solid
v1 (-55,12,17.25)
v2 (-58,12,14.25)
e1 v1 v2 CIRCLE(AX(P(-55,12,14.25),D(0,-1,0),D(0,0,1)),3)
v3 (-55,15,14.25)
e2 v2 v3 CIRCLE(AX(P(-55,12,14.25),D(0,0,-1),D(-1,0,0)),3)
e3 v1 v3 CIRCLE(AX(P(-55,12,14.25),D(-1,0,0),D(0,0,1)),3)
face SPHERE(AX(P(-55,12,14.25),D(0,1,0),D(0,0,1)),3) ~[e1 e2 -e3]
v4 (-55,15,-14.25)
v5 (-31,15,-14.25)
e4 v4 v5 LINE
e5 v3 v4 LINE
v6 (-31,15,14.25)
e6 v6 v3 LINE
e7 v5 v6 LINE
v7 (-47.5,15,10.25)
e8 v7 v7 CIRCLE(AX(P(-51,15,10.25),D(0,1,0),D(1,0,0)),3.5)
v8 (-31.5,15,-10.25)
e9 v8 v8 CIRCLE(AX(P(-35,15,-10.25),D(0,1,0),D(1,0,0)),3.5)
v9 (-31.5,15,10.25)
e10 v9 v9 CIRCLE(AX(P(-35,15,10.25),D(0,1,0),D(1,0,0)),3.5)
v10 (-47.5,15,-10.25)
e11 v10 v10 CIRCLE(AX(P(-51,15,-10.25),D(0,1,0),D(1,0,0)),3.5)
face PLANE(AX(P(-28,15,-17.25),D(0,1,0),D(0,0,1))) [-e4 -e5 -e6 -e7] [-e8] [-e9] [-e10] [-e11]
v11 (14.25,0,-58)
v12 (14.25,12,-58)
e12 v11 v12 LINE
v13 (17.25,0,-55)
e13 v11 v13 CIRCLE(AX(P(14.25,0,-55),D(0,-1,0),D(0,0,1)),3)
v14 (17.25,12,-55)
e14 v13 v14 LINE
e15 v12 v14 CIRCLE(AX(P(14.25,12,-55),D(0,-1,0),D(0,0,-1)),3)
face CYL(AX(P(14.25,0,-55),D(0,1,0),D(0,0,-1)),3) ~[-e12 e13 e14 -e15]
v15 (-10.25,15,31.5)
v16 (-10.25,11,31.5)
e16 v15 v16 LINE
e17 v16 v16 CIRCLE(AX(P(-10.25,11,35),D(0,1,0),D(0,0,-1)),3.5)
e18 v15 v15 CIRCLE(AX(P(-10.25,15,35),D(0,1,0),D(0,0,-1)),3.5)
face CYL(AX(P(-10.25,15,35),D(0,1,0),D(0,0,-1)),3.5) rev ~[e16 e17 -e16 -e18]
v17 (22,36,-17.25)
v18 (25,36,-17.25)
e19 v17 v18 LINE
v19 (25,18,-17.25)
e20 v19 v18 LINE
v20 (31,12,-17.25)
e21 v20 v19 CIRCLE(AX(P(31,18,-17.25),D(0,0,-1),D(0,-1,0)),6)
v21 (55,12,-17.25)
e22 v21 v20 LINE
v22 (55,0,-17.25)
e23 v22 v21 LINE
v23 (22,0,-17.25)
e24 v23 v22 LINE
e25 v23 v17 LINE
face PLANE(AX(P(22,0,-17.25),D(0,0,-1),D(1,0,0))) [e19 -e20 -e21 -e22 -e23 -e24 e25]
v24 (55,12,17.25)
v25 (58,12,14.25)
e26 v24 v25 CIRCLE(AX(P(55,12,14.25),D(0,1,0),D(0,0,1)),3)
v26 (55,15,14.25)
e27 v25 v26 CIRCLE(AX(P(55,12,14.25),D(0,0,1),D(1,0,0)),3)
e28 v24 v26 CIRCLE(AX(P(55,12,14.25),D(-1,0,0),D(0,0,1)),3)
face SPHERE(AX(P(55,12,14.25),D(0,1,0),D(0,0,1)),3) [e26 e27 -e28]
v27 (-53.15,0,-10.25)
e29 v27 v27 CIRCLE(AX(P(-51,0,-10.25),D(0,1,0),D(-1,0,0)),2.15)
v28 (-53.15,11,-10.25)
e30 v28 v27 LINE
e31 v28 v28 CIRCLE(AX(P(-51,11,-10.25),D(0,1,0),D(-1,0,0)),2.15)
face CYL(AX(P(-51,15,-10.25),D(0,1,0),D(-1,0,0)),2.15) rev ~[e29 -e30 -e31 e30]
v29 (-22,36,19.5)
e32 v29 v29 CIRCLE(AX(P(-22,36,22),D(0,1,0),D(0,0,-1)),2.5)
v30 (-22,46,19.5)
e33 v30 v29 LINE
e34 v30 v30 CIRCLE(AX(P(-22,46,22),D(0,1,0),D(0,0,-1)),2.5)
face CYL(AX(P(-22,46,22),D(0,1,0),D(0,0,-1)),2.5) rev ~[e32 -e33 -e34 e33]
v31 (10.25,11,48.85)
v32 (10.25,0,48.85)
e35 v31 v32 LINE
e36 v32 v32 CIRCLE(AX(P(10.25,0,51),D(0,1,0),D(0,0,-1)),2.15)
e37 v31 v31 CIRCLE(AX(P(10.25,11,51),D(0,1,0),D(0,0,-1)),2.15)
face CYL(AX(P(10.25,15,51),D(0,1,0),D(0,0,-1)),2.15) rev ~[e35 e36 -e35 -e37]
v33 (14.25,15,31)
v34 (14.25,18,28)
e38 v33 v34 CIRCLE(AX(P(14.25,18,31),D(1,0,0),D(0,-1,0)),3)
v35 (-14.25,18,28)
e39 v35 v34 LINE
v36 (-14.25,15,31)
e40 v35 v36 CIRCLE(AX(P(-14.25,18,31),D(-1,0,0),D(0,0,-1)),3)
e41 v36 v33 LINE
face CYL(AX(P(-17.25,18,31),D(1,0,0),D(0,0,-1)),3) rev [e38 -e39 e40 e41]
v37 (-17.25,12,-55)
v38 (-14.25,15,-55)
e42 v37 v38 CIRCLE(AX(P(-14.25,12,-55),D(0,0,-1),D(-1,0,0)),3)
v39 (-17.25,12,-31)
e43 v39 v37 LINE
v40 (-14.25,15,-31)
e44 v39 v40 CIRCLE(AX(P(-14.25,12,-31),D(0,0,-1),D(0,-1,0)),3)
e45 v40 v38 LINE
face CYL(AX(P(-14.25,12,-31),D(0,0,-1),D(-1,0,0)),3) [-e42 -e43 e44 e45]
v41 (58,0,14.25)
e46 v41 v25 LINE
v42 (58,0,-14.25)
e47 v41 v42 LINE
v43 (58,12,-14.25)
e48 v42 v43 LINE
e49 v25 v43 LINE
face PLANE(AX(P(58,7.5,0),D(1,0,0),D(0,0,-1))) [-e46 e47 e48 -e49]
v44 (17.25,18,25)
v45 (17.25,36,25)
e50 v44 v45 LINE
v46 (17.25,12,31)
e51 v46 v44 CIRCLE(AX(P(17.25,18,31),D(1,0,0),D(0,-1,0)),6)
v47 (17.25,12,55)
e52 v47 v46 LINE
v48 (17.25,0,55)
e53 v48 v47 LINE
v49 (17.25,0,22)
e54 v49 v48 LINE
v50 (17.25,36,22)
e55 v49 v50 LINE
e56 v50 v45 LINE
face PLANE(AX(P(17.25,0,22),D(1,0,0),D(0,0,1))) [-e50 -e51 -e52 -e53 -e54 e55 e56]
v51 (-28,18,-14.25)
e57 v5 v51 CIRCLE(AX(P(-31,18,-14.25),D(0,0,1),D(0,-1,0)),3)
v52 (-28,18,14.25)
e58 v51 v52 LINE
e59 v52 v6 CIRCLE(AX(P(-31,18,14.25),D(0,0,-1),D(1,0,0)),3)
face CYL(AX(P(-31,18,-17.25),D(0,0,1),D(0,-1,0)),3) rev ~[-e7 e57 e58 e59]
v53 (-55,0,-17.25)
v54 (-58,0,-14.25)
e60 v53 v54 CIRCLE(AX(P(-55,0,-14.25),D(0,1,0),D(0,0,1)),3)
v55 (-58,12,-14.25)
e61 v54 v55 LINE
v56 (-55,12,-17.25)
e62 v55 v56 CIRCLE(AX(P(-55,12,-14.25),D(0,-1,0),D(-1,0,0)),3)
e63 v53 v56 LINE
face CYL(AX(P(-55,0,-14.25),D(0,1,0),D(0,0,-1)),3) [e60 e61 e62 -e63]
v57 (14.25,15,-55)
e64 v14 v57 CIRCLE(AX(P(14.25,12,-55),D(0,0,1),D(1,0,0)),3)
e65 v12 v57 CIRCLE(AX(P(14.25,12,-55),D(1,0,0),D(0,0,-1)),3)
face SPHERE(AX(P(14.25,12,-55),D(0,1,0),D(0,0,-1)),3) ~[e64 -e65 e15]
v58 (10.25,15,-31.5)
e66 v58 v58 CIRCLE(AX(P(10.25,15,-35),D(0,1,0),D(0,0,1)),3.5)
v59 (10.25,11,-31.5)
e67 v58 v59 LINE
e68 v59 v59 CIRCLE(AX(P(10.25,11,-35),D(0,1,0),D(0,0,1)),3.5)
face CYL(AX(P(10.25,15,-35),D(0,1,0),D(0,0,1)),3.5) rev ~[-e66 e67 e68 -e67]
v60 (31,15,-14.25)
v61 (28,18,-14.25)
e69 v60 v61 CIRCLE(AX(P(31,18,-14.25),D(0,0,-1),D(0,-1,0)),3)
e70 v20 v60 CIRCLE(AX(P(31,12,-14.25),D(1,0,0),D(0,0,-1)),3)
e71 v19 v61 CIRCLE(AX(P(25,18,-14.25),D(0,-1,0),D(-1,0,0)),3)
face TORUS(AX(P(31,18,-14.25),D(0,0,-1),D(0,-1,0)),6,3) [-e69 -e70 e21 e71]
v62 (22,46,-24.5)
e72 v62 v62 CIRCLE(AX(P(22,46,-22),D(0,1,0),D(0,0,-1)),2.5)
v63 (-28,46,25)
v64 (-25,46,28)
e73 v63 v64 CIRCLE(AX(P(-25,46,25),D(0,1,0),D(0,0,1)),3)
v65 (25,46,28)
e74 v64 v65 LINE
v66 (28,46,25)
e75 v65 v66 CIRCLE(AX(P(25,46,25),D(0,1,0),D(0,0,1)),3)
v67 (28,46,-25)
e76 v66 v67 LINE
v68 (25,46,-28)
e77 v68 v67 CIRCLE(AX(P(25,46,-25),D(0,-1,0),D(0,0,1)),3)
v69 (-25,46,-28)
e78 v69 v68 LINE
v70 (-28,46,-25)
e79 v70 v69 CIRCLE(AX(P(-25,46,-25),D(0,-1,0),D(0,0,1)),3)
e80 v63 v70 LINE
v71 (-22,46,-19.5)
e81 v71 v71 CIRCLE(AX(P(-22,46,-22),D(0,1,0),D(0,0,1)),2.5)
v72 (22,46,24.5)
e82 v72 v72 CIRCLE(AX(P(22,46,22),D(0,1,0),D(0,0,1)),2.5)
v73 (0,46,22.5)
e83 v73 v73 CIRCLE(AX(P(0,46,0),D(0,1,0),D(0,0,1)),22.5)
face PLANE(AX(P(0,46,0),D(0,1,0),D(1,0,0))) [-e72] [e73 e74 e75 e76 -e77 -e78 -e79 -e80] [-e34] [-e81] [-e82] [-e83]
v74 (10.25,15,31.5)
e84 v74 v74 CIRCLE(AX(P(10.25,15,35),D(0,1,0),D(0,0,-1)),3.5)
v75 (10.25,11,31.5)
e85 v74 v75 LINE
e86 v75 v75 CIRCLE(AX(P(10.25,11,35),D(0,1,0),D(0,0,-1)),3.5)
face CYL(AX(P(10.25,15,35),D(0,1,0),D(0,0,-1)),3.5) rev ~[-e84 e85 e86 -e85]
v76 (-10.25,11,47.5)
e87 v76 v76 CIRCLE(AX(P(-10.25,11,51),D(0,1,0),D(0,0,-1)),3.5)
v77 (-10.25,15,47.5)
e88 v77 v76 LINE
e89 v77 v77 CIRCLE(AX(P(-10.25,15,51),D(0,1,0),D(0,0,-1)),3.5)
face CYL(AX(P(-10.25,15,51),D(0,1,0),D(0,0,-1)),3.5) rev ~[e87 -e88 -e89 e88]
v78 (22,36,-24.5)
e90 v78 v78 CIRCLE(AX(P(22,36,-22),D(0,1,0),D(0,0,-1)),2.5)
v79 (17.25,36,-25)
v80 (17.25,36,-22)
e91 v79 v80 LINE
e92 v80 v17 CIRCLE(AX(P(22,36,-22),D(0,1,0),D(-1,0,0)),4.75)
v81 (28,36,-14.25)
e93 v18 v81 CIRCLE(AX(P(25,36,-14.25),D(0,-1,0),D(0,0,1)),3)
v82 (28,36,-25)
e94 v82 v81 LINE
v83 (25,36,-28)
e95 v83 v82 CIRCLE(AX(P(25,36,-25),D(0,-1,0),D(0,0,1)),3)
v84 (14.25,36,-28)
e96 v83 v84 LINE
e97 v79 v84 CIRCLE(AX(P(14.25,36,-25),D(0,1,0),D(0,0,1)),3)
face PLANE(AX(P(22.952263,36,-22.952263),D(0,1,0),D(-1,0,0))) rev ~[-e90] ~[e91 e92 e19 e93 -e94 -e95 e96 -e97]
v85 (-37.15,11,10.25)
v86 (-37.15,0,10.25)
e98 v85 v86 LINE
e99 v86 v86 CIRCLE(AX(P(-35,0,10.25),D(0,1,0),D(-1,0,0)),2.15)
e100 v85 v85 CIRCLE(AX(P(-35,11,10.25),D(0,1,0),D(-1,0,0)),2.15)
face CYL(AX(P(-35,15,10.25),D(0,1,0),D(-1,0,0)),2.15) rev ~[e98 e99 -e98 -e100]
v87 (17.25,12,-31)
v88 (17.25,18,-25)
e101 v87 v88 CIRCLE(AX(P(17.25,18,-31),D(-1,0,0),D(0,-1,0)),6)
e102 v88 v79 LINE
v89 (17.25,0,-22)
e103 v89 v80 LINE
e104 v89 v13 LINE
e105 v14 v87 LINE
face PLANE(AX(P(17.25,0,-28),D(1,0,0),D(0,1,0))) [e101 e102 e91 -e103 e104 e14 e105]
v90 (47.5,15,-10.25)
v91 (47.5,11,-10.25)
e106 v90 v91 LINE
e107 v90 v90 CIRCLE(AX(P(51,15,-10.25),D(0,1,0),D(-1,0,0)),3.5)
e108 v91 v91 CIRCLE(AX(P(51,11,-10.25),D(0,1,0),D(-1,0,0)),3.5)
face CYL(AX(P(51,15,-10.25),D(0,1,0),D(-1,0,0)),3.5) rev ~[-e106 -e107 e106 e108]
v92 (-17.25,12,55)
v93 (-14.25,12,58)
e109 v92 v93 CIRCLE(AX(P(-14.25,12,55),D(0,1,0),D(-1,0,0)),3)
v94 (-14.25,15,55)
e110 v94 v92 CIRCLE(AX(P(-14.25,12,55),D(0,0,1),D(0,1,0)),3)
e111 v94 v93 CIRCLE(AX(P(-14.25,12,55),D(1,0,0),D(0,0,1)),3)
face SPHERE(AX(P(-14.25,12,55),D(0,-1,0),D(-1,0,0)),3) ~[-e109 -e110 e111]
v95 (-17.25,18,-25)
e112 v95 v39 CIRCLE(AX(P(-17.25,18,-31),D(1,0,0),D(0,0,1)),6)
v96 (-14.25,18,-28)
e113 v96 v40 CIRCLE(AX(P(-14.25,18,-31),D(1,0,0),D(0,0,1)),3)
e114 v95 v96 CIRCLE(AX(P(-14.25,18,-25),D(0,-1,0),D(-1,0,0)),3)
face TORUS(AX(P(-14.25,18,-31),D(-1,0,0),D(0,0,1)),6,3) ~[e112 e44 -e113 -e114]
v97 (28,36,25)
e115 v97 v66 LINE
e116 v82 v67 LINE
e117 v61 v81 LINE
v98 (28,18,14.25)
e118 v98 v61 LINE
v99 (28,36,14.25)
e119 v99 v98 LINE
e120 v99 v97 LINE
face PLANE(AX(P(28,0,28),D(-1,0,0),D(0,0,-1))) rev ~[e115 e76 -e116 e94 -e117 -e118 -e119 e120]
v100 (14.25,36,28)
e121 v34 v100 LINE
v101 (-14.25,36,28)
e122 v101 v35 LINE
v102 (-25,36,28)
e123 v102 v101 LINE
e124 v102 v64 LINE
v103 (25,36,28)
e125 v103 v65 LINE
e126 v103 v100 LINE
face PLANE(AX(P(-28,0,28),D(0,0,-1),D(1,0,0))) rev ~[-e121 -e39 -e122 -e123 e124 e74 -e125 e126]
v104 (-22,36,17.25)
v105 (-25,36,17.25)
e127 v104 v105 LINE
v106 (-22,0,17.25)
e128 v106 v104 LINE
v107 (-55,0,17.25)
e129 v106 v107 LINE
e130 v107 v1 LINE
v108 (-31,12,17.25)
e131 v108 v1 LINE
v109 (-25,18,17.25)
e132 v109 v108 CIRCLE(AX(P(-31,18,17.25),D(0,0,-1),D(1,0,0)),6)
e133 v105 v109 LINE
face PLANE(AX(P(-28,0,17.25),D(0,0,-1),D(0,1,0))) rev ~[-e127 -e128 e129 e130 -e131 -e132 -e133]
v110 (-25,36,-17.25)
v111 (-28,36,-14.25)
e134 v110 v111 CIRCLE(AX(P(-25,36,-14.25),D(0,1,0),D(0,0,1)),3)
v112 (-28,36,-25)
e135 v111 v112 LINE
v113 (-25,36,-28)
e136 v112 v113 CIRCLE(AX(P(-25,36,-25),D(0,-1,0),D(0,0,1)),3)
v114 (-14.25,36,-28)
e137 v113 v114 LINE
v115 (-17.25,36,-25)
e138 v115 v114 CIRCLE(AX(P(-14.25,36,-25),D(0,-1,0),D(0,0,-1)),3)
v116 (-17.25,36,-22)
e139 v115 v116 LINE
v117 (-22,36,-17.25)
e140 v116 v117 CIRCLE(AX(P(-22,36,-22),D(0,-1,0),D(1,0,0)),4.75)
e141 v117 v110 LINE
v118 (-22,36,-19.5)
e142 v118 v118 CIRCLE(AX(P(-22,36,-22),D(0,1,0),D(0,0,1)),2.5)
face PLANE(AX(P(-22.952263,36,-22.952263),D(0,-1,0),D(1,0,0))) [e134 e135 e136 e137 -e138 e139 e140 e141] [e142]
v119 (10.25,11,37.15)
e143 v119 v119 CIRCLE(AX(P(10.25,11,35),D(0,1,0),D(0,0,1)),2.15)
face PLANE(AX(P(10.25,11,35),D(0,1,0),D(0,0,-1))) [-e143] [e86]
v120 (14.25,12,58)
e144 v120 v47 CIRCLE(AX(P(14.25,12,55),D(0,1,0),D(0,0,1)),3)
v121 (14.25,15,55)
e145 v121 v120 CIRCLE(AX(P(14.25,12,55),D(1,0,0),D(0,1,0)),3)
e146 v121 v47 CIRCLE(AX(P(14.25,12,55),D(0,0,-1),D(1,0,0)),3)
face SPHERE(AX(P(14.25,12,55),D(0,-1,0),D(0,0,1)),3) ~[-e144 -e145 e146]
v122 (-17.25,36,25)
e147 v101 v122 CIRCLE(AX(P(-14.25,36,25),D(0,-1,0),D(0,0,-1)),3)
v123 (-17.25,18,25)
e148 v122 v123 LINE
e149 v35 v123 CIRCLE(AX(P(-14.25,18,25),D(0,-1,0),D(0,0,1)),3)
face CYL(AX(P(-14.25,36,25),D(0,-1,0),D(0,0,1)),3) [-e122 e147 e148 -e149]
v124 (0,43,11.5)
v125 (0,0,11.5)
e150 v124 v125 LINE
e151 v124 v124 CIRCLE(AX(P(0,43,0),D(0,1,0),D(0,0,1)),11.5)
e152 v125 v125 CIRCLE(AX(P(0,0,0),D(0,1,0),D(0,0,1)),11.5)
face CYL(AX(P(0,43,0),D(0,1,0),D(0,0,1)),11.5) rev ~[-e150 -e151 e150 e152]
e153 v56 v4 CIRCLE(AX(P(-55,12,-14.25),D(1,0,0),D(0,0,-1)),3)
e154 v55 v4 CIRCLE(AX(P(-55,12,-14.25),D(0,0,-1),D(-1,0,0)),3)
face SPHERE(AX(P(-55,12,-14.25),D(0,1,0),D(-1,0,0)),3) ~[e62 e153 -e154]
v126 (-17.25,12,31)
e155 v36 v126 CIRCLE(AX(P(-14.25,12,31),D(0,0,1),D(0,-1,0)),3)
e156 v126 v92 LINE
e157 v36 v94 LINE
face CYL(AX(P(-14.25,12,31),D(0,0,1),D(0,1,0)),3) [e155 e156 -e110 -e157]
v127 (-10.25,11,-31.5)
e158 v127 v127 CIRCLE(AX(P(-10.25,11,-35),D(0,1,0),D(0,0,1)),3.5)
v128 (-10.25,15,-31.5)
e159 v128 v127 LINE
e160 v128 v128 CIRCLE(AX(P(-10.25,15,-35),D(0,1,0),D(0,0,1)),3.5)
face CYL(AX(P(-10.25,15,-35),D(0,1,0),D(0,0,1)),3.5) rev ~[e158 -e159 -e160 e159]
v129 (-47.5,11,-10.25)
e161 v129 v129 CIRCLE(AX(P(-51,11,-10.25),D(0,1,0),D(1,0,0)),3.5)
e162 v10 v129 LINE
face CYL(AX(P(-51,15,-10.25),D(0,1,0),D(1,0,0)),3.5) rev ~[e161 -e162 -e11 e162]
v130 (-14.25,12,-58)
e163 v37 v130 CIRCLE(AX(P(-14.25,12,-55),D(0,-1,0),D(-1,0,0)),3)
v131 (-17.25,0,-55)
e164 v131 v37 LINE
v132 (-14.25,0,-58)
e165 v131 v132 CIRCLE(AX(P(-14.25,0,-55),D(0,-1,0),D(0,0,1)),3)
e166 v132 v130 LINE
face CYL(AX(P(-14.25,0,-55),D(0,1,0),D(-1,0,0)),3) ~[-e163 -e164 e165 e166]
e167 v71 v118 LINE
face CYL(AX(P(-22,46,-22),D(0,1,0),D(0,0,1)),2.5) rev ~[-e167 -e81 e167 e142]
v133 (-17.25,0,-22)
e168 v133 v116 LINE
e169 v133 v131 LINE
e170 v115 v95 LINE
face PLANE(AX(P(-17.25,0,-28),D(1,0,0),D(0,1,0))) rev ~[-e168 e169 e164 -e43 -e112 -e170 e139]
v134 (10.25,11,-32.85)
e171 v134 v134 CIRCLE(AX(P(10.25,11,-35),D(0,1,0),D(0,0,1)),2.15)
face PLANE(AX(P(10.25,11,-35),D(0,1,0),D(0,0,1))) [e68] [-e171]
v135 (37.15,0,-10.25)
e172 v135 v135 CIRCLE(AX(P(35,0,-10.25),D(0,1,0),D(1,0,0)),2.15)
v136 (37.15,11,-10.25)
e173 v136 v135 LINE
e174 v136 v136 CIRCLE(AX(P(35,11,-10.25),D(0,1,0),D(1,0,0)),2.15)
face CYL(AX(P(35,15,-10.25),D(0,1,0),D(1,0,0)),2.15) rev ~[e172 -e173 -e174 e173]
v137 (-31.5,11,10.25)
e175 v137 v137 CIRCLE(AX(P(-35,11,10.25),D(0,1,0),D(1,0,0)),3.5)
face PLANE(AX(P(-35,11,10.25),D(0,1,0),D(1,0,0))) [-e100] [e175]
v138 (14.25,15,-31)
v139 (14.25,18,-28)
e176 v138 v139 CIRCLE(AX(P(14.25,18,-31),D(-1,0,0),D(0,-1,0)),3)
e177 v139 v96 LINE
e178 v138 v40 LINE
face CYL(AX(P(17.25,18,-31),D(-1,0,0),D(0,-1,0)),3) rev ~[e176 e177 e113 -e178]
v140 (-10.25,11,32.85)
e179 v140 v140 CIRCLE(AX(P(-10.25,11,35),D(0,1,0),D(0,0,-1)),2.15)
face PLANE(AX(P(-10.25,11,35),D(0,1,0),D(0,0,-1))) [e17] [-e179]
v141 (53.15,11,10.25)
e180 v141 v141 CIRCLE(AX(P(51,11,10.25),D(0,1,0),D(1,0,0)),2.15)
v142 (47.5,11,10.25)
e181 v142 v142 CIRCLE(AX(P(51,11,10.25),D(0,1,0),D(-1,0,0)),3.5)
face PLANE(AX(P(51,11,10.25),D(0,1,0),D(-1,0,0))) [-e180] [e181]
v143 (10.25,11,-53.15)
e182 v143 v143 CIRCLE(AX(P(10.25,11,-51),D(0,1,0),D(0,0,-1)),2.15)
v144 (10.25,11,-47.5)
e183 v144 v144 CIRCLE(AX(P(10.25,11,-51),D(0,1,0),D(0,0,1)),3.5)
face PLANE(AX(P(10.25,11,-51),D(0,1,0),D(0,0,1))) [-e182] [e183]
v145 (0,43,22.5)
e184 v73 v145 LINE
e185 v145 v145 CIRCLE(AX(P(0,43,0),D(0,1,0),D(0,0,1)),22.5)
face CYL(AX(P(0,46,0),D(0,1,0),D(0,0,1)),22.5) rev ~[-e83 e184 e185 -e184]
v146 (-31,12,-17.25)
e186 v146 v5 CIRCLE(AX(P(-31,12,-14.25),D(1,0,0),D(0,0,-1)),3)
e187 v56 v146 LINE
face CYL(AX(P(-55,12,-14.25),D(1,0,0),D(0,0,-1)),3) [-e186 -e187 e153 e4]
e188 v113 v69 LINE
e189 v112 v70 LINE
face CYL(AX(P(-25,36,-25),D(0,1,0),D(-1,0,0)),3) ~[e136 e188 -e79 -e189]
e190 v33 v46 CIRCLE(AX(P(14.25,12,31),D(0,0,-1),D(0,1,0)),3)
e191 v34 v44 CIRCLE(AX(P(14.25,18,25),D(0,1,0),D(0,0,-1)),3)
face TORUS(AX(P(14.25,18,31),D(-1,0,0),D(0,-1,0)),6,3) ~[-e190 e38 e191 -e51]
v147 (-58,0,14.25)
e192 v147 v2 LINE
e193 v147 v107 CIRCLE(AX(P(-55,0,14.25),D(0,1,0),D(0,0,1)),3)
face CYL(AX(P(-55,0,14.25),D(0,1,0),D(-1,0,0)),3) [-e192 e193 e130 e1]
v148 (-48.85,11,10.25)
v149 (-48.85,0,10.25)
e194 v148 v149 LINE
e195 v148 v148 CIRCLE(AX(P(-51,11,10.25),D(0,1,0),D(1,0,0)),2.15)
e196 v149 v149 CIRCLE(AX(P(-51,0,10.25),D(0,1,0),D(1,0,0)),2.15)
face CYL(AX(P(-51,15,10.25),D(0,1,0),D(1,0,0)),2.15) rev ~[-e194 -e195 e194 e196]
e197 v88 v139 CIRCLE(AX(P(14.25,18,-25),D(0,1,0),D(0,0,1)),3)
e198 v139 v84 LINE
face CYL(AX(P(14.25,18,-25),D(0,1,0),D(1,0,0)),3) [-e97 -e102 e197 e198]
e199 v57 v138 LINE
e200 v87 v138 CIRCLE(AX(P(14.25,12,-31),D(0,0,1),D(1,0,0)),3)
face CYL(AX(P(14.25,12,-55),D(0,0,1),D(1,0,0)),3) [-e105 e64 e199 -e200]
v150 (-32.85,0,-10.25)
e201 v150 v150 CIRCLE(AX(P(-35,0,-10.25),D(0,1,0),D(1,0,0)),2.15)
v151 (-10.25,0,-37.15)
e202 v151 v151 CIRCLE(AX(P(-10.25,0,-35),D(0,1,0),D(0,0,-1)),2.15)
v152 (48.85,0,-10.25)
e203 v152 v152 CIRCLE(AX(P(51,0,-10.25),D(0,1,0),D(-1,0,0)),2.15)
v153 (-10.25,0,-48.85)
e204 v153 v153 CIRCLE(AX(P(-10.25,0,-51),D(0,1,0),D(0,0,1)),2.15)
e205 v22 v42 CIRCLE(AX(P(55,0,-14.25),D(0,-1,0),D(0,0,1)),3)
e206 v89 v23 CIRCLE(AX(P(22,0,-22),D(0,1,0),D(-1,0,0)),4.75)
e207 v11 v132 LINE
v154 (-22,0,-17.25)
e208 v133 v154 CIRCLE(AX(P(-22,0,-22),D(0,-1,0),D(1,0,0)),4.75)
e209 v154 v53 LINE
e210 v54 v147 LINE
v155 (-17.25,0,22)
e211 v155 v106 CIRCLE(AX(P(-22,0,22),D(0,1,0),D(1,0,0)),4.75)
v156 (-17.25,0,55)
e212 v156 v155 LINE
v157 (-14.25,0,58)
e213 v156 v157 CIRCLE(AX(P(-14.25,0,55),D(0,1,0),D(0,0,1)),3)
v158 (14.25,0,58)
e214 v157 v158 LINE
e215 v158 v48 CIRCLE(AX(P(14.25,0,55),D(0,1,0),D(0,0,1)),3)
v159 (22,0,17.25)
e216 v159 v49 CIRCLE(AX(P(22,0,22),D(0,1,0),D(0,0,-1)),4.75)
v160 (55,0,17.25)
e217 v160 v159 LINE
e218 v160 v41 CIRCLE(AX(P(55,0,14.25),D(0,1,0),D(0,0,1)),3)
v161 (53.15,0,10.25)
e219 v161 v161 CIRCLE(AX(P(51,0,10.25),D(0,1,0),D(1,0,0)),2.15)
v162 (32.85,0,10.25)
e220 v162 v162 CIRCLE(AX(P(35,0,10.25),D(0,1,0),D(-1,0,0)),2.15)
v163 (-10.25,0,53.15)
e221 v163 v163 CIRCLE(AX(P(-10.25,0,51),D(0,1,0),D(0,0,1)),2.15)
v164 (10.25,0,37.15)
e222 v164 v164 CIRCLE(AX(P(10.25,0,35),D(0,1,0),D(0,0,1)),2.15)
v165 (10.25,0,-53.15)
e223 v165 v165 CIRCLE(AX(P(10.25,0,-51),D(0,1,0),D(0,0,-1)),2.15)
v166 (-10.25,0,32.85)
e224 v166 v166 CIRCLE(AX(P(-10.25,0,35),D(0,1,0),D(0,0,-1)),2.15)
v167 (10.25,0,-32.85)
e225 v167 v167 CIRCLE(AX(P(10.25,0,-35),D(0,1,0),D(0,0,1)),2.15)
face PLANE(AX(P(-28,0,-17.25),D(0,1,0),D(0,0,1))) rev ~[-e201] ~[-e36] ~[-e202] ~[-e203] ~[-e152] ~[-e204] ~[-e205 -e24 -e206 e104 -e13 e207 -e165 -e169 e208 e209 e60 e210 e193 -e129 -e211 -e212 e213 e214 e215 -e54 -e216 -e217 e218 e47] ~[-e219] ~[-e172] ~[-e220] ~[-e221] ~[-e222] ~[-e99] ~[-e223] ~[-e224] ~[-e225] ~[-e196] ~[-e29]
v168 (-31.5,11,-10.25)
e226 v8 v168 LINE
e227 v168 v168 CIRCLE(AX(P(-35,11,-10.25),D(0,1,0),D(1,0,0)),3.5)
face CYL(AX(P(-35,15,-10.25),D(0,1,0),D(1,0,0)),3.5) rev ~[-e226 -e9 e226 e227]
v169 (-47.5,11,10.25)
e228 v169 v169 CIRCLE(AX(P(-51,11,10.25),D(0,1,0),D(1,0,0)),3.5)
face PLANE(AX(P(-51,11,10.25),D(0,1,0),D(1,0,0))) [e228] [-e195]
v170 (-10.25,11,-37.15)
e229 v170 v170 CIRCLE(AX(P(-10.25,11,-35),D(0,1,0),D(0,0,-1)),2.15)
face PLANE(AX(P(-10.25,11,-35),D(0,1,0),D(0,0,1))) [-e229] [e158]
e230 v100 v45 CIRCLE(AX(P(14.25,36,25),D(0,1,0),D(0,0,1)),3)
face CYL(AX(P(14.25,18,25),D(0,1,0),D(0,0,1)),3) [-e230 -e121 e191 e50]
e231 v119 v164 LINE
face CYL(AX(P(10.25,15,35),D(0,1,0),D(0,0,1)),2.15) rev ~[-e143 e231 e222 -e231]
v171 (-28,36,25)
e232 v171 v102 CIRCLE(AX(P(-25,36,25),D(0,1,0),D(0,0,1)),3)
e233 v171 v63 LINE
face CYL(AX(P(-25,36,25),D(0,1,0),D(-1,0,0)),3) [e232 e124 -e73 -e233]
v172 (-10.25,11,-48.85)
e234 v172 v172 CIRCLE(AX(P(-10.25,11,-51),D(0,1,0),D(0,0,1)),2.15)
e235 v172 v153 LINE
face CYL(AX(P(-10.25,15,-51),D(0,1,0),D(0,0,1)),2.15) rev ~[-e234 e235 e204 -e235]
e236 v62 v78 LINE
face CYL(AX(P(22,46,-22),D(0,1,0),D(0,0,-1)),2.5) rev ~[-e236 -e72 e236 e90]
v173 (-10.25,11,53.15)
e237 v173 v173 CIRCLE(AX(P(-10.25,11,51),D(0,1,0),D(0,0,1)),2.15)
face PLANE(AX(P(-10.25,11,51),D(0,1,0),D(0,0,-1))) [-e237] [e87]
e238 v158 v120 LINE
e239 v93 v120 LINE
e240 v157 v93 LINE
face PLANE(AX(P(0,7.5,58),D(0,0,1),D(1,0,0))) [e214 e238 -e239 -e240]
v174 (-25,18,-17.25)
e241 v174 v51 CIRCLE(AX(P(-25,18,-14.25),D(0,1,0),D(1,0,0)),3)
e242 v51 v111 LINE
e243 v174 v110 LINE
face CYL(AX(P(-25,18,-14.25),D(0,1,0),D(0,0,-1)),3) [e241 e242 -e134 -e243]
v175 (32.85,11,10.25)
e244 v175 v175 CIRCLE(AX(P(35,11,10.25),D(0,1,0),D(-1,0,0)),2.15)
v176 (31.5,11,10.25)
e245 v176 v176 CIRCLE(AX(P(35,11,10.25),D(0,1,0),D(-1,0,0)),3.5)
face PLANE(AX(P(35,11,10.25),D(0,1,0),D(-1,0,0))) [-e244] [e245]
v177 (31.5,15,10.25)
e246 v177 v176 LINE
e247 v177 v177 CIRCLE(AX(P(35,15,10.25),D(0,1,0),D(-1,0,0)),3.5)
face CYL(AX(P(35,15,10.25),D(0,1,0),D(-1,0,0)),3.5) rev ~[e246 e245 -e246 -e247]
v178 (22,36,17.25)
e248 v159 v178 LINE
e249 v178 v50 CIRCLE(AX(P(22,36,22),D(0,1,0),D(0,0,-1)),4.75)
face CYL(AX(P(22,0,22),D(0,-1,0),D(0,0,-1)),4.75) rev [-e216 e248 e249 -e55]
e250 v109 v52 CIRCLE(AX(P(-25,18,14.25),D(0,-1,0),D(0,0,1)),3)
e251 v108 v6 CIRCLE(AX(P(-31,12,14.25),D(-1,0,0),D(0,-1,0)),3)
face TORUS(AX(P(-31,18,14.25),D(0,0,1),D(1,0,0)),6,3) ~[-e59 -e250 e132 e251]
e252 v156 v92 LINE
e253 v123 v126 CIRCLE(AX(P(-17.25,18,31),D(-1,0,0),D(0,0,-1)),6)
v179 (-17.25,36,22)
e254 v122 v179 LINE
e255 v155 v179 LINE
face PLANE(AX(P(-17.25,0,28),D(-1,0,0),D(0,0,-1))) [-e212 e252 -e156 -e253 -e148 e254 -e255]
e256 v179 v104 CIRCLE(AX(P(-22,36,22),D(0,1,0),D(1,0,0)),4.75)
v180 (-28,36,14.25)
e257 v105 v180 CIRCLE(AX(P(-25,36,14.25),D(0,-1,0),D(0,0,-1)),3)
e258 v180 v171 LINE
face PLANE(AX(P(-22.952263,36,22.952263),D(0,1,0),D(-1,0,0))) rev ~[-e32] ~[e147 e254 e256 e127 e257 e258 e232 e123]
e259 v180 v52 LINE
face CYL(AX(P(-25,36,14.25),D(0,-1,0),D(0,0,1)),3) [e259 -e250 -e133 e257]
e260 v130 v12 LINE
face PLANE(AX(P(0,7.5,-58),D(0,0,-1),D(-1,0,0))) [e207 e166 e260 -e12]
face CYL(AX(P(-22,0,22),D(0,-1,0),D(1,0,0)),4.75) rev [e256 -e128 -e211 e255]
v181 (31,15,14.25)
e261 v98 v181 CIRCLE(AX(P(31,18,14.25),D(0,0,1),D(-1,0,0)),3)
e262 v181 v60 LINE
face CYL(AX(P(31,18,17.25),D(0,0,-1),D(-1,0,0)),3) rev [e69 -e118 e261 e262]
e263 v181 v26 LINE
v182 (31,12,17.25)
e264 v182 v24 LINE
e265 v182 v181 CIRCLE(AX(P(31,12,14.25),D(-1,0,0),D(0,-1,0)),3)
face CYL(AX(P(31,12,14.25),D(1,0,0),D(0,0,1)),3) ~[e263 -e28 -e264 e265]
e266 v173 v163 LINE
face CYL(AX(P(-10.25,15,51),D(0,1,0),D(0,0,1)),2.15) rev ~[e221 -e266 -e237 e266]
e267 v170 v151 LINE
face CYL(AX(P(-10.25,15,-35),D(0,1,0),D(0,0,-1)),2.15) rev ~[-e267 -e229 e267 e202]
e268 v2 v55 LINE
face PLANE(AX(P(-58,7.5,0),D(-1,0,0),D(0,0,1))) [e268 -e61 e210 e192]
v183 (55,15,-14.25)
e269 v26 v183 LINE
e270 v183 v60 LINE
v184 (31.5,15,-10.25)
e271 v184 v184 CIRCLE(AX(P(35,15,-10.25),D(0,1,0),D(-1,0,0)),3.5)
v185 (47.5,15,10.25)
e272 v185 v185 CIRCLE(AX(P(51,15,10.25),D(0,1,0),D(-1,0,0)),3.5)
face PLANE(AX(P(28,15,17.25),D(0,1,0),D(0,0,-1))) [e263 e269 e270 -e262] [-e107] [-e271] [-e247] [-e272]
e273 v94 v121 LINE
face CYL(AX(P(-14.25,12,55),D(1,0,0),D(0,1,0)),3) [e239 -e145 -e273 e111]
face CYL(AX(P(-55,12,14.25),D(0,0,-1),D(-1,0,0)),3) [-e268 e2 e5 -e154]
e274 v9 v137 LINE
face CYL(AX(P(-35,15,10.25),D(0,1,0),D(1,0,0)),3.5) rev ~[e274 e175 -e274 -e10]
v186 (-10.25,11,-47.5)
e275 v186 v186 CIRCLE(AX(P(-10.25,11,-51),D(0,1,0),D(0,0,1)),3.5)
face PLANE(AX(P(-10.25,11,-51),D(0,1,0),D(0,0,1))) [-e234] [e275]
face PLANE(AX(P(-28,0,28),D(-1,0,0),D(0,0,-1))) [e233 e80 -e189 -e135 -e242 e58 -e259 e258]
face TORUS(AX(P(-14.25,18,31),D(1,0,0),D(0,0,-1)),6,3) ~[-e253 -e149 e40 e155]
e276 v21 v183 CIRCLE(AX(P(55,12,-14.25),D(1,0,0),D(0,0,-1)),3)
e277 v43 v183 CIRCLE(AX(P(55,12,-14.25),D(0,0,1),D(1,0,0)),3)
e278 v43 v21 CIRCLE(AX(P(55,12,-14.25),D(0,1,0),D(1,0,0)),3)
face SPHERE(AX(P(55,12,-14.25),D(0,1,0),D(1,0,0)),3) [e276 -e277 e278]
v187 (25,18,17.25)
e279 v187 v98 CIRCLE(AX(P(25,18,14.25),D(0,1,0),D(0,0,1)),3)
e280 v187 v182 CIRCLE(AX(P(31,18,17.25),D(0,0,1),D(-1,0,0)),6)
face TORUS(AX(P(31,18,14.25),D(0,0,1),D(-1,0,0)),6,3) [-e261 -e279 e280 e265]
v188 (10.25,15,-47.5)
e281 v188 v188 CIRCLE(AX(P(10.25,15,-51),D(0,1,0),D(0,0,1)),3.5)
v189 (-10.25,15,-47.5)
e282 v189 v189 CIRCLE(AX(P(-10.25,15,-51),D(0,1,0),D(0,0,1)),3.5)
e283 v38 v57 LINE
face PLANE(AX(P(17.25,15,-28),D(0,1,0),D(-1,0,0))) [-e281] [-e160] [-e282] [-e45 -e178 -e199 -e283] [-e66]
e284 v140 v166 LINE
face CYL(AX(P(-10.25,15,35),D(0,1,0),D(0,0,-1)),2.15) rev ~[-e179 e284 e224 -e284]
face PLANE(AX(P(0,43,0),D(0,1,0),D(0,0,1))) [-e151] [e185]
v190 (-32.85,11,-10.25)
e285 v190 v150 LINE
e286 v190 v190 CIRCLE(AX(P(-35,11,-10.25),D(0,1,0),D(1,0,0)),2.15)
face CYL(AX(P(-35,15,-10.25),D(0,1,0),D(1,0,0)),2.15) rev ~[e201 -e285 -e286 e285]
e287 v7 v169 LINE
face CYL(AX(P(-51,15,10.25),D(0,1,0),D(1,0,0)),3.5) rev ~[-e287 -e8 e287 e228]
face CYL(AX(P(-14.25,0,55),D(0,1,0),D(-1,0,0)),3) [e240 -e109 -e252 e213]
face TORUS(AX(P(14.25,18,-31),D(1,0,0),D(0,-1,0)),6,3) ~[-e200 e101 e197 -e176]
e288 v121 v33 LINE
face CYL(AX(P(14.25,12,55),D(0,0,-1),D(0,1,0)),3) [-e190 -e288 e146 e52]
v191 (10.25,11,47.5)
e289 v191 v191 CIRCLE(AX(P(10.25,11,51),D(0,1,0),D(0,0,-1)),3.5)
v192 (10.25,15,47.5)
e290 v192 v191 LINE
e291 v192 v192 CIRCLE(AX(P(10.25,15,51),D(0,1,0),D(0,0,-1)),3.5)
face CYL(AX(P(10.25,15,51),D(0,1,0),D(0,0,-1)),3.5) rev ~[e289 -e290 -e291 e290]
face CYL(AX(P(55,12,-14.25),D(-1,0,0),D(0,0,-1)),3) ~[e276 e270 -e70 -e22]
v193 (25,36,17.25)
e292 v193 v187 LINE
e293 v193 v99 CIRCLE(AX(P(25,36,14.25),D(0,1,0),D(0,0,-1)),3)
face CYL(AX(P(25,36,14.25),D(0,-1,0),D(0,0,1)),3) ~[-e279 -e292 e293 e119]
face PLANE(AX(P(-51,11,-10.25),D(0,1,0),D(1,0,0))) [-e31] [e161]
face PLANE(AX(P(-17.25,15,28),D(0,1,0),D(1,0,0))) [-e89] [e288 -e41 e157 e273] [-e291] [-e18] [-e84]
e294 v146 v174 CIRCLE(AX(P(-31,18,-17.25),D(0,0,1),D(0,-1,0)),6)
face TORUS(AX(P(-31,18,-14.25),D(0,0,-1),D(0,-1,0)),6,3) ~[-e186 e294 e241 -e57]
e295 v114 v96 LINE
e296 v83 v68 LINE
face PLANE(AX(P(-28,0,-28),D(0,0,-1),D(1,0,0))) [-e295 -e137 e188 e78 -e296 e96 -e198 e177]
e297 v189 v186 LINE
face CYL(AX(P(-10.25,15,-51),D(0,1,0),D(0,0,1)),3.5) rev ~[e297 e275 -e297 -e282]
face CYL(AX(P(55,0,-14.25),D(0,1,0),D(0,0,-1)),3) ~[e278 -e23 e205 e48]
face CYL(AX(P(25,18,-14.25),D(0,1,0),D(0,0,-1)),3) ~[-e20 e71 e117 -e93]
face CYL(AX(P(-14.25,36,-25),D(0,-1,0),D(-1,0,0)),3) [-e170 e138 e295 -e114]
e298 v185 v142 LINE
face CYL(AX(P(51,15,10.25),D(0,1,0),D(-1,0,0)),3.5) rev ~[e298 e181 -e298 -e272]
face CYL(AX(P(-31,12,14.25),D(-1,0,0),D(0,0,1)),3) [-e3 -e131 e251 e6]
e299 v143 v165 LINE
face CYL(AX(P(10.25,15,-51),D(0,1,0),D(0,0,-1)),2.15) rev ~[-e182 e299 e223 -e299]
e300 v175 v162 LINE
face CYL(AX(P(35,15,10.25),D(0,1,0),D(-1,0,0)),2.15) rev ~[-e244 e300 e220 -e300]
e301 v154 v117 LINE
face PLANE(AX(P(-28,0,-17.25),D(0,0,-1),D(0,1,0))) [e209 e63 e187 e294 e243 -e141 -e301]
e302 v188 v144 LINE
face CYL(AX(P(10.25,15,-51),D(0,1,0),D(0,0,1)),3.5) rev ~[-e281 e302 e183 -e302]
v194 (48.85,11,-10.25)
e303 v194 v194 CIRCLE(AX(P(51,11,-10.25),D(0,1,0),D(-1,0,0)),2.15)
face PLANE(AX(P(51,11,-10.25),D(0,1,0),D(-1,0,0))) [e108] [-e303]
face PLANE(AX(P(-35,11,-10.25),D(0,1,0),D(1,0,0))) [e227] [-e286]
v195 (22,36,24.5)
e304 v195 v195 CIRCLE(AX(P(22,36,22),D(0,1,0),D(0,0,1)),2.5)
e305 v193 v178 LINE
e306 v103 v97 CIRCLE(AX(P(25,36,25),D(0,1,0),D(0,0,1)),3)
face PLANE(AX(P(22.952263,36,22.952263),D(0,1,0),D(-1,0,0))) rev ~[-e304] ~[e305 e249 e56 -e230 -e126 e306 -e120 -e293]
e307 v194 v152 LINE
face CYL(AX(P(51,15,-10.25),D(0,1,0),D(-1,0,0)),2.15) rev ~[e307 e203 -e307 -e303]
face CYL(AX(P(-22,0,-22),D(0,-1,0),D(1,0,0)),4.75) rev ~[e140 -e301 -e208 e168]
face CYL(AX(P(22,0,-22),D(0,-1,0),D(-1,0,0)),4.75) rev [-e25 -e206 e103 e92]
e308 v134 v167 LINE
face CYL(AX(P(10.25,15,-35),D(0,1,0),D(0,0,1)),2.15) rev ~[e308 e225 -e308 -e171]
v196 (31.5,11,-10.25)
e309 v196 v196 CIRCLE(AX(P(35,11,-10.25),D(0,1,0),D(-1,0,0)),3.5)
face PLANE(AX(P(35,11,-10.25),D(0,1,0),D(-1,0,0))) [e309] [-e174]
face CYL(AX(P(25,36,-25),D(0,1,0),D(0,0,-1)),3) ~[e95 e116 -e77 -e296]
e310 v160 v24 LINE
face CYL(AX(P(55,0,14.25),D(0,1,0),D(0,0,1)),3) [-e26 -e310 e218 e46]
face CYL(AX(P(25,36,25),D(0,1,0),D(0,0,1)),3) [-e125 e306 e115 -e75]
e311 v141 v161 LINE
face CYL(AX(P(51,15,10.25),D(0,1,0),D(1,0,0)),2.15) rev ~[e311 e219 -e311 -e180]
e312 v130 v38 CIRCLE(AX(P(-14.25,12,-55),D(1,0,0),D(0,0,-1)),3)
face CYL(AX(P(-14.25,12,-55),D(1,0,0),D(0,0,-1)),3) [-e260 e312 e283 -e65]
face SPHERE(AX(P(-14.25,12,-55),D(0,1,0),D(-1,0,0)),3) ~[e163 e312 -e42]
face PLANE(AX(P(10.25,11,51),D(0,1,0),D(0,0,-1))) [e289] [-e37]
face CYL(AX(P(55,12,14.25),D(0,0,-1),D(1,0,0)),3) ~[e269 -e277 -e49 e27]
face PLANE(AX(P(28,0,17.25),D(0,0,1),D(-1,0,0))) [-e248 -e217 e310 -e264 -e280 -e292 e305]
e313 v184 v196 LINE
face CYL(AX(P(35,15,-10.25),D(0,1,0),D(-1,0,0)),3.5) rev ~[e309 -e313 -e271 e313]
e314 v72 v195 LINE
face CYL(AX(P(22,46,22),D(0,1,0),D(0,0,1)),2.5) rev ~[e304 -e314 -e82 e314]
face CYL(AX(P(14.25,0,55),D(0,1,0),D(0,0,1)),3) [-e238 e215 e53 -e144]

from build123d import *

# Parameters (mm, degrees)
SKETCH1_W           = 56
SKETCH1_H           = 56
BOSS_EXTRUDE1_DEPTH = 46
SKETCH2_R           = 22.5
CUT_EXTRUDE1_DEPTH  = 3
SKETCH3_R           = 11.5
CUT_EXTRUDE2_DEPTH  = 50
SKETCH4_R           = 2.5
CUT_EXTRUDE3_DEPTH  = 10
CUT_EXTRUDE4_DEPTH  = 36
SKETCH6_W           = 34.5
SKETCH6_H           = 15
BOSS_EXTRUDE2_DEPTH = 30
SKETCH7_R           = 2.15
CUT_EXTRUDE5_DEPTH  = 30
FILLET1_R           = 3
SKETCH8_R           = 3.5
CUT_EXTRUDE6_DEPTH  = 4
CIRPATTERN2_COUNT   = 4
FILLET2_R           = 3
FILLET3_R           = 3
FILLET4_R           = 3
FILLET5_R           = 3


with BuildPart() as part:
    # Sketch1 → Boss-Extrude1 (new body)
    with BuildSketch(Plane(origin=(0, 0, 0), x_dir=(1, 0, 0), z_dir=(0, 1, 0))):
        Rectangle(SKETCH1_W, SKETCH1_H)
    extrude(amount=BOSS_EXTRUDE1_DEPTH)

    # Sketch2 → Cut-Extrude1 (cut)
    with BuildSketch(Plane(origin=(0, 46, 0), x_dir=(1, 0, 0), z_dir=(0, 1, 0))):
        with Locations(Location((0, 0, 0), (0, 0, 270))):
            Circle(SKETCH2_R)
    extrude(amount=-CUT_EXTRUDE1_DEPTH, mode=Mode.SUBTRACT)

    # Sketch3 → Cut-Extrude2 (cut)
    with BuildSketch(Plane(origin=(0, 43, 0), x_dir=(1, 0, 0), z_dir=(0, 1, 0))):
        with Locations(Location((0, 0, 0), (0, 0, 270))):
            Circle(SKETCH3_R)
    extrude(amount=-CUT_EXTRUDE2_DEPTH, mode=Mode.SUBTRACT)

    # Sketch4 → Cut-Extrude3 (cut)
    with BuildSketch(Plane(origin=(0, 46, 0), x_dir=(1, 0, 0), z_dir=(0, 1, 0))):
        with Locations(Location((-22, 22, 0), (0, 0, 270))):
            Circle(SKETCH4_R)
        with Locations(Location((22, 22, 0), (0, 0, 90))):
            Circle(SKETCH4_R)
        with Locations(Location((22, -22, 0), (0, 0, 270))):
            Circle(SKETCH4_R)
        with Locations(Location((-22, -22, 0), (0, 0, 90))):
            Circle(SKETCH4_R)
    extrude(amount=-CUT_EXTRUDE3_DEPTH, mode=Mode.SUBTRACT)

    # Sketch5 → Cut-Extrude4 (cut)
    with BuildSketch(Plane.XZ):
        with BuildLine():
            Line((-22, 17.25), (-28, 17.25))
            Line((-28, 17.25), (-28, 28))
            Line((-28, 28), (-17.25, 28))
            Line((-17.25, 28), (-17.25, 22))
            ThreePointArc((-17.25, 22), (-18.641242789, 18.641242789), (-22, 17.25))
        make_face()
        with BuildLine():
            Line((17.25, 22), (17.25, 28))
            Line((17.25, 28), (28, 28))
            Line((28, 28), (28, 17.25))
            Line((28, 17.25), (22, 17.25))
            ThreePointArc((22, 17.25), (18.641242789, 18.641242789), (17.25, 22))
        make_face()
        with BuildLine():
            Line((-28, -17.25), (-28, -28))
            Line((-28, -28), (-17.25, -28))
            Line((-17.25, -28), (-17.25, -22))
            ThreePointArc((-17.25, -22), (-18.641242789, -18.641242789), (-22, -17.25))
            Line((-22, -17.25), (-28, -17.25))
        make_face()
        with BuildLine():
            Line((22, -17.25), (28, -17.25))
            Line((28, -17.25), (28, -28))
            Line((28, -28), (17.25, -28))
            Line((17.25, -28), (17.25, -22))
            ThreePointArc((17.25, -22), (18.641242789, -18.641242789), (22, -17.25))
        make_face()
    extrude(amount=-CUT_EXTRUDE4_DEPTH, mode=Mode.SUBTRACT)

    # Sketch6 → Boss-Extrude2 (add)
    with BuildSketch(Plane(origin=(0, 0, -28), x_dir=(-1, 0, 0), z_dir=(0, 0, -1))):
        with Locations((0, 7.5)):
            Rectangle(SKETCH6_W, SKETCH6_H)
    boss_extrude2 = extrude(amount=BOSS_EXTRUDE2_DEPTH)

    # Sketch7 → Cut-Extrude5 (cut)
    with BuildSketch(Plane(origin=(0, 15, 0), x_dir=(1, 0, 0), z_dir=(0, 1, 0))):
        with Locations(Location((-10.25, 51, 0), (0, 0, 270))):
            Circle(SKETCH7_R)
        with Locations(Location((10.25, 51, 0), (0, 0, 90))):
            Circle(SKETCH7_R)
        with Locations(Location((10.25, 35, 0), (0, 0, 270))):
            Circle(SKETCH7_R)
        with Locations(Location((-10.25, 35, 0), (0, 0, 90))):
            Circle(SKETCH7_R)
    cut_extrude5 = extrude(amount=-CUT_EXTRUDE5_DEPTH, mode=Mode.SUBTRACT)

    # Fillet1
    fillet1_edges = [part.edges().sort_by_distance(p)[0] for p in [
        (0, 15, -28),
    ]]
    fillet(fillet1_edges, radius=FILLET1_R)

    # Sketch8 → Cut-Extrude6 (cut)
    with BuildSketch(Plane(origin=(0, 15, 0), x_dir=(1, 0, 0), z_dir=(0, 1, 0))):
        with Locations(Location((-10.25, 51, 0), (0, 0, 270))):
            Circle(SKETCH8_R)
        with Locations(Location((10.25, 51, 0), (0, 0, 270))):
            Circle(SKETCH8_R)
        with Locations(Location((-10.25, 35, 0), (0, 0, 270))):
            Circle(SKETCH8_R)
        with Locations(Location((10.25, 35, 0), (0, 0, 270))):
            Circle(SKETCH8_R)
    cut_extrude6 = extrude(amount=-CUT_EXTRUDE6_DEPTH, mode=Mode.SUBTRACT)

    # CirPattern2: Boss-Extrude2, Cut-Extrude5, Cut-Extrude6 ×4 about axis
    cirpattern2_axis = Axis((0, 0, 0), (0, 1, 0))
    add([boss_extrude2.rotate(cirpattern2_axis, i * 360 / CIRPATTERN2_COUNT) for i in range(1, CIRPATTERN2_COUNT)])
    add([cut_extrude5.rotate(cirpattern2_axis, i * 360 / CIRPATTERN2_COUNT) for i in range(1, CIRPATTERN2_COUNT)], mode=Mode.SUBTRACT)
    add([cut_extrude6.rotate(cirpattern2_axis, i * 360 / CIRPATTERN2_COUNT) for i in range(1, CIRPATTERN2_COUNT)], mode=Mode.SUBTRACT)

    # Fillet2
    fillet2_edges = [part.edges().sort_by_distance(p)[0] for p in [
        (-28, 15, 0),
        (0, 15, 28),
        (28, 15, 0),
    ]]
    fillet(fillet2_edges, radius=FILLET2_R)

    # Fillet3
    fillet3_edges = [part.edges().sort_by_distance(p)[0] for p in [
        (17.25, 7.5, -58),
        (-17.25, 7.5, -58),
        (-58, 7.5, -17.25),
        (-58, 7.5, 17.25),
        (-17.25, 7.5, 58),
        (17.25, 7.5, 58),
        (58, 7.5, 17.25),
        (58, 7.5, -17.25),
    ]]
    fillet(fillet3_edges, radius=FILLET3_R)

    # Fillet4
    fillet4_edges = [part.edges().sort_by_distance(p)[0] for p in [
        (17.25, 15.878679656, -28.878679656),
        (-17.25, 15.878679656, -28.878679656),
        (28.878679656, 15.878679656, 17.25),
        (28.878679656, 15.878679656, -17.25),
        (-28.878679656, 15.878679656, -17.25),
        (-28.878679656, 15.878679656, 17.25),
        (0, 15, -58),
        (17.25, 15, -43),
        (-17.25, 15, -43),
        (-16.371320344, 15, -57.121320344),
        (16.371320344, 15, -57.121320344),
        (58, 15, 0),
        (43, 15, -17.25),
        (43, 15, 17.25),
        (57.121320344, 15, 16.371320344),
        (57.121320344, 15, -16.371320344),
        (-58, 15, 0),
        (-43, 15, 17.25),
        (-43, 15, -17.25),
        (-57.121320344, 15, -16.371320344),
        (-57.121320344, 15, 16.371320344),
        (28, 27, 17.25),
        (-28, 27, -17.25),
        (-17.25, 27, -28),
        (28, 27, -17.25),
        (17.25, 27, -28),
        (28, 41, 28),
        (-28, 41, 28),
        (-28, 41, -28),
        (28, 41, -28),
        (-28, 27, 17.25),
    ]]
    fillet(fillet4_edges, radius=FILLET4_R)

    # Fillet5
    fillet5_edges = [part.edges().sort_by_distance(p)[0] for p in [
        (-17.25, 15.878679656, 28.878679656),
        (17.25, 15.878679656, 28.878679656),
        (0, 15, 58),
        (17.25, 15, 43),
        (-17.25, 15, 43),
        (-16.371320344, 15, 57.121320344),
        (16.371320344, 15, 57.121320344),
        (17.25, 27, 28),
        (-17.25, 27, 28),
    ]]
    fillet(fillet5_edges, radius=FILLET5_R)


solid = part.part
